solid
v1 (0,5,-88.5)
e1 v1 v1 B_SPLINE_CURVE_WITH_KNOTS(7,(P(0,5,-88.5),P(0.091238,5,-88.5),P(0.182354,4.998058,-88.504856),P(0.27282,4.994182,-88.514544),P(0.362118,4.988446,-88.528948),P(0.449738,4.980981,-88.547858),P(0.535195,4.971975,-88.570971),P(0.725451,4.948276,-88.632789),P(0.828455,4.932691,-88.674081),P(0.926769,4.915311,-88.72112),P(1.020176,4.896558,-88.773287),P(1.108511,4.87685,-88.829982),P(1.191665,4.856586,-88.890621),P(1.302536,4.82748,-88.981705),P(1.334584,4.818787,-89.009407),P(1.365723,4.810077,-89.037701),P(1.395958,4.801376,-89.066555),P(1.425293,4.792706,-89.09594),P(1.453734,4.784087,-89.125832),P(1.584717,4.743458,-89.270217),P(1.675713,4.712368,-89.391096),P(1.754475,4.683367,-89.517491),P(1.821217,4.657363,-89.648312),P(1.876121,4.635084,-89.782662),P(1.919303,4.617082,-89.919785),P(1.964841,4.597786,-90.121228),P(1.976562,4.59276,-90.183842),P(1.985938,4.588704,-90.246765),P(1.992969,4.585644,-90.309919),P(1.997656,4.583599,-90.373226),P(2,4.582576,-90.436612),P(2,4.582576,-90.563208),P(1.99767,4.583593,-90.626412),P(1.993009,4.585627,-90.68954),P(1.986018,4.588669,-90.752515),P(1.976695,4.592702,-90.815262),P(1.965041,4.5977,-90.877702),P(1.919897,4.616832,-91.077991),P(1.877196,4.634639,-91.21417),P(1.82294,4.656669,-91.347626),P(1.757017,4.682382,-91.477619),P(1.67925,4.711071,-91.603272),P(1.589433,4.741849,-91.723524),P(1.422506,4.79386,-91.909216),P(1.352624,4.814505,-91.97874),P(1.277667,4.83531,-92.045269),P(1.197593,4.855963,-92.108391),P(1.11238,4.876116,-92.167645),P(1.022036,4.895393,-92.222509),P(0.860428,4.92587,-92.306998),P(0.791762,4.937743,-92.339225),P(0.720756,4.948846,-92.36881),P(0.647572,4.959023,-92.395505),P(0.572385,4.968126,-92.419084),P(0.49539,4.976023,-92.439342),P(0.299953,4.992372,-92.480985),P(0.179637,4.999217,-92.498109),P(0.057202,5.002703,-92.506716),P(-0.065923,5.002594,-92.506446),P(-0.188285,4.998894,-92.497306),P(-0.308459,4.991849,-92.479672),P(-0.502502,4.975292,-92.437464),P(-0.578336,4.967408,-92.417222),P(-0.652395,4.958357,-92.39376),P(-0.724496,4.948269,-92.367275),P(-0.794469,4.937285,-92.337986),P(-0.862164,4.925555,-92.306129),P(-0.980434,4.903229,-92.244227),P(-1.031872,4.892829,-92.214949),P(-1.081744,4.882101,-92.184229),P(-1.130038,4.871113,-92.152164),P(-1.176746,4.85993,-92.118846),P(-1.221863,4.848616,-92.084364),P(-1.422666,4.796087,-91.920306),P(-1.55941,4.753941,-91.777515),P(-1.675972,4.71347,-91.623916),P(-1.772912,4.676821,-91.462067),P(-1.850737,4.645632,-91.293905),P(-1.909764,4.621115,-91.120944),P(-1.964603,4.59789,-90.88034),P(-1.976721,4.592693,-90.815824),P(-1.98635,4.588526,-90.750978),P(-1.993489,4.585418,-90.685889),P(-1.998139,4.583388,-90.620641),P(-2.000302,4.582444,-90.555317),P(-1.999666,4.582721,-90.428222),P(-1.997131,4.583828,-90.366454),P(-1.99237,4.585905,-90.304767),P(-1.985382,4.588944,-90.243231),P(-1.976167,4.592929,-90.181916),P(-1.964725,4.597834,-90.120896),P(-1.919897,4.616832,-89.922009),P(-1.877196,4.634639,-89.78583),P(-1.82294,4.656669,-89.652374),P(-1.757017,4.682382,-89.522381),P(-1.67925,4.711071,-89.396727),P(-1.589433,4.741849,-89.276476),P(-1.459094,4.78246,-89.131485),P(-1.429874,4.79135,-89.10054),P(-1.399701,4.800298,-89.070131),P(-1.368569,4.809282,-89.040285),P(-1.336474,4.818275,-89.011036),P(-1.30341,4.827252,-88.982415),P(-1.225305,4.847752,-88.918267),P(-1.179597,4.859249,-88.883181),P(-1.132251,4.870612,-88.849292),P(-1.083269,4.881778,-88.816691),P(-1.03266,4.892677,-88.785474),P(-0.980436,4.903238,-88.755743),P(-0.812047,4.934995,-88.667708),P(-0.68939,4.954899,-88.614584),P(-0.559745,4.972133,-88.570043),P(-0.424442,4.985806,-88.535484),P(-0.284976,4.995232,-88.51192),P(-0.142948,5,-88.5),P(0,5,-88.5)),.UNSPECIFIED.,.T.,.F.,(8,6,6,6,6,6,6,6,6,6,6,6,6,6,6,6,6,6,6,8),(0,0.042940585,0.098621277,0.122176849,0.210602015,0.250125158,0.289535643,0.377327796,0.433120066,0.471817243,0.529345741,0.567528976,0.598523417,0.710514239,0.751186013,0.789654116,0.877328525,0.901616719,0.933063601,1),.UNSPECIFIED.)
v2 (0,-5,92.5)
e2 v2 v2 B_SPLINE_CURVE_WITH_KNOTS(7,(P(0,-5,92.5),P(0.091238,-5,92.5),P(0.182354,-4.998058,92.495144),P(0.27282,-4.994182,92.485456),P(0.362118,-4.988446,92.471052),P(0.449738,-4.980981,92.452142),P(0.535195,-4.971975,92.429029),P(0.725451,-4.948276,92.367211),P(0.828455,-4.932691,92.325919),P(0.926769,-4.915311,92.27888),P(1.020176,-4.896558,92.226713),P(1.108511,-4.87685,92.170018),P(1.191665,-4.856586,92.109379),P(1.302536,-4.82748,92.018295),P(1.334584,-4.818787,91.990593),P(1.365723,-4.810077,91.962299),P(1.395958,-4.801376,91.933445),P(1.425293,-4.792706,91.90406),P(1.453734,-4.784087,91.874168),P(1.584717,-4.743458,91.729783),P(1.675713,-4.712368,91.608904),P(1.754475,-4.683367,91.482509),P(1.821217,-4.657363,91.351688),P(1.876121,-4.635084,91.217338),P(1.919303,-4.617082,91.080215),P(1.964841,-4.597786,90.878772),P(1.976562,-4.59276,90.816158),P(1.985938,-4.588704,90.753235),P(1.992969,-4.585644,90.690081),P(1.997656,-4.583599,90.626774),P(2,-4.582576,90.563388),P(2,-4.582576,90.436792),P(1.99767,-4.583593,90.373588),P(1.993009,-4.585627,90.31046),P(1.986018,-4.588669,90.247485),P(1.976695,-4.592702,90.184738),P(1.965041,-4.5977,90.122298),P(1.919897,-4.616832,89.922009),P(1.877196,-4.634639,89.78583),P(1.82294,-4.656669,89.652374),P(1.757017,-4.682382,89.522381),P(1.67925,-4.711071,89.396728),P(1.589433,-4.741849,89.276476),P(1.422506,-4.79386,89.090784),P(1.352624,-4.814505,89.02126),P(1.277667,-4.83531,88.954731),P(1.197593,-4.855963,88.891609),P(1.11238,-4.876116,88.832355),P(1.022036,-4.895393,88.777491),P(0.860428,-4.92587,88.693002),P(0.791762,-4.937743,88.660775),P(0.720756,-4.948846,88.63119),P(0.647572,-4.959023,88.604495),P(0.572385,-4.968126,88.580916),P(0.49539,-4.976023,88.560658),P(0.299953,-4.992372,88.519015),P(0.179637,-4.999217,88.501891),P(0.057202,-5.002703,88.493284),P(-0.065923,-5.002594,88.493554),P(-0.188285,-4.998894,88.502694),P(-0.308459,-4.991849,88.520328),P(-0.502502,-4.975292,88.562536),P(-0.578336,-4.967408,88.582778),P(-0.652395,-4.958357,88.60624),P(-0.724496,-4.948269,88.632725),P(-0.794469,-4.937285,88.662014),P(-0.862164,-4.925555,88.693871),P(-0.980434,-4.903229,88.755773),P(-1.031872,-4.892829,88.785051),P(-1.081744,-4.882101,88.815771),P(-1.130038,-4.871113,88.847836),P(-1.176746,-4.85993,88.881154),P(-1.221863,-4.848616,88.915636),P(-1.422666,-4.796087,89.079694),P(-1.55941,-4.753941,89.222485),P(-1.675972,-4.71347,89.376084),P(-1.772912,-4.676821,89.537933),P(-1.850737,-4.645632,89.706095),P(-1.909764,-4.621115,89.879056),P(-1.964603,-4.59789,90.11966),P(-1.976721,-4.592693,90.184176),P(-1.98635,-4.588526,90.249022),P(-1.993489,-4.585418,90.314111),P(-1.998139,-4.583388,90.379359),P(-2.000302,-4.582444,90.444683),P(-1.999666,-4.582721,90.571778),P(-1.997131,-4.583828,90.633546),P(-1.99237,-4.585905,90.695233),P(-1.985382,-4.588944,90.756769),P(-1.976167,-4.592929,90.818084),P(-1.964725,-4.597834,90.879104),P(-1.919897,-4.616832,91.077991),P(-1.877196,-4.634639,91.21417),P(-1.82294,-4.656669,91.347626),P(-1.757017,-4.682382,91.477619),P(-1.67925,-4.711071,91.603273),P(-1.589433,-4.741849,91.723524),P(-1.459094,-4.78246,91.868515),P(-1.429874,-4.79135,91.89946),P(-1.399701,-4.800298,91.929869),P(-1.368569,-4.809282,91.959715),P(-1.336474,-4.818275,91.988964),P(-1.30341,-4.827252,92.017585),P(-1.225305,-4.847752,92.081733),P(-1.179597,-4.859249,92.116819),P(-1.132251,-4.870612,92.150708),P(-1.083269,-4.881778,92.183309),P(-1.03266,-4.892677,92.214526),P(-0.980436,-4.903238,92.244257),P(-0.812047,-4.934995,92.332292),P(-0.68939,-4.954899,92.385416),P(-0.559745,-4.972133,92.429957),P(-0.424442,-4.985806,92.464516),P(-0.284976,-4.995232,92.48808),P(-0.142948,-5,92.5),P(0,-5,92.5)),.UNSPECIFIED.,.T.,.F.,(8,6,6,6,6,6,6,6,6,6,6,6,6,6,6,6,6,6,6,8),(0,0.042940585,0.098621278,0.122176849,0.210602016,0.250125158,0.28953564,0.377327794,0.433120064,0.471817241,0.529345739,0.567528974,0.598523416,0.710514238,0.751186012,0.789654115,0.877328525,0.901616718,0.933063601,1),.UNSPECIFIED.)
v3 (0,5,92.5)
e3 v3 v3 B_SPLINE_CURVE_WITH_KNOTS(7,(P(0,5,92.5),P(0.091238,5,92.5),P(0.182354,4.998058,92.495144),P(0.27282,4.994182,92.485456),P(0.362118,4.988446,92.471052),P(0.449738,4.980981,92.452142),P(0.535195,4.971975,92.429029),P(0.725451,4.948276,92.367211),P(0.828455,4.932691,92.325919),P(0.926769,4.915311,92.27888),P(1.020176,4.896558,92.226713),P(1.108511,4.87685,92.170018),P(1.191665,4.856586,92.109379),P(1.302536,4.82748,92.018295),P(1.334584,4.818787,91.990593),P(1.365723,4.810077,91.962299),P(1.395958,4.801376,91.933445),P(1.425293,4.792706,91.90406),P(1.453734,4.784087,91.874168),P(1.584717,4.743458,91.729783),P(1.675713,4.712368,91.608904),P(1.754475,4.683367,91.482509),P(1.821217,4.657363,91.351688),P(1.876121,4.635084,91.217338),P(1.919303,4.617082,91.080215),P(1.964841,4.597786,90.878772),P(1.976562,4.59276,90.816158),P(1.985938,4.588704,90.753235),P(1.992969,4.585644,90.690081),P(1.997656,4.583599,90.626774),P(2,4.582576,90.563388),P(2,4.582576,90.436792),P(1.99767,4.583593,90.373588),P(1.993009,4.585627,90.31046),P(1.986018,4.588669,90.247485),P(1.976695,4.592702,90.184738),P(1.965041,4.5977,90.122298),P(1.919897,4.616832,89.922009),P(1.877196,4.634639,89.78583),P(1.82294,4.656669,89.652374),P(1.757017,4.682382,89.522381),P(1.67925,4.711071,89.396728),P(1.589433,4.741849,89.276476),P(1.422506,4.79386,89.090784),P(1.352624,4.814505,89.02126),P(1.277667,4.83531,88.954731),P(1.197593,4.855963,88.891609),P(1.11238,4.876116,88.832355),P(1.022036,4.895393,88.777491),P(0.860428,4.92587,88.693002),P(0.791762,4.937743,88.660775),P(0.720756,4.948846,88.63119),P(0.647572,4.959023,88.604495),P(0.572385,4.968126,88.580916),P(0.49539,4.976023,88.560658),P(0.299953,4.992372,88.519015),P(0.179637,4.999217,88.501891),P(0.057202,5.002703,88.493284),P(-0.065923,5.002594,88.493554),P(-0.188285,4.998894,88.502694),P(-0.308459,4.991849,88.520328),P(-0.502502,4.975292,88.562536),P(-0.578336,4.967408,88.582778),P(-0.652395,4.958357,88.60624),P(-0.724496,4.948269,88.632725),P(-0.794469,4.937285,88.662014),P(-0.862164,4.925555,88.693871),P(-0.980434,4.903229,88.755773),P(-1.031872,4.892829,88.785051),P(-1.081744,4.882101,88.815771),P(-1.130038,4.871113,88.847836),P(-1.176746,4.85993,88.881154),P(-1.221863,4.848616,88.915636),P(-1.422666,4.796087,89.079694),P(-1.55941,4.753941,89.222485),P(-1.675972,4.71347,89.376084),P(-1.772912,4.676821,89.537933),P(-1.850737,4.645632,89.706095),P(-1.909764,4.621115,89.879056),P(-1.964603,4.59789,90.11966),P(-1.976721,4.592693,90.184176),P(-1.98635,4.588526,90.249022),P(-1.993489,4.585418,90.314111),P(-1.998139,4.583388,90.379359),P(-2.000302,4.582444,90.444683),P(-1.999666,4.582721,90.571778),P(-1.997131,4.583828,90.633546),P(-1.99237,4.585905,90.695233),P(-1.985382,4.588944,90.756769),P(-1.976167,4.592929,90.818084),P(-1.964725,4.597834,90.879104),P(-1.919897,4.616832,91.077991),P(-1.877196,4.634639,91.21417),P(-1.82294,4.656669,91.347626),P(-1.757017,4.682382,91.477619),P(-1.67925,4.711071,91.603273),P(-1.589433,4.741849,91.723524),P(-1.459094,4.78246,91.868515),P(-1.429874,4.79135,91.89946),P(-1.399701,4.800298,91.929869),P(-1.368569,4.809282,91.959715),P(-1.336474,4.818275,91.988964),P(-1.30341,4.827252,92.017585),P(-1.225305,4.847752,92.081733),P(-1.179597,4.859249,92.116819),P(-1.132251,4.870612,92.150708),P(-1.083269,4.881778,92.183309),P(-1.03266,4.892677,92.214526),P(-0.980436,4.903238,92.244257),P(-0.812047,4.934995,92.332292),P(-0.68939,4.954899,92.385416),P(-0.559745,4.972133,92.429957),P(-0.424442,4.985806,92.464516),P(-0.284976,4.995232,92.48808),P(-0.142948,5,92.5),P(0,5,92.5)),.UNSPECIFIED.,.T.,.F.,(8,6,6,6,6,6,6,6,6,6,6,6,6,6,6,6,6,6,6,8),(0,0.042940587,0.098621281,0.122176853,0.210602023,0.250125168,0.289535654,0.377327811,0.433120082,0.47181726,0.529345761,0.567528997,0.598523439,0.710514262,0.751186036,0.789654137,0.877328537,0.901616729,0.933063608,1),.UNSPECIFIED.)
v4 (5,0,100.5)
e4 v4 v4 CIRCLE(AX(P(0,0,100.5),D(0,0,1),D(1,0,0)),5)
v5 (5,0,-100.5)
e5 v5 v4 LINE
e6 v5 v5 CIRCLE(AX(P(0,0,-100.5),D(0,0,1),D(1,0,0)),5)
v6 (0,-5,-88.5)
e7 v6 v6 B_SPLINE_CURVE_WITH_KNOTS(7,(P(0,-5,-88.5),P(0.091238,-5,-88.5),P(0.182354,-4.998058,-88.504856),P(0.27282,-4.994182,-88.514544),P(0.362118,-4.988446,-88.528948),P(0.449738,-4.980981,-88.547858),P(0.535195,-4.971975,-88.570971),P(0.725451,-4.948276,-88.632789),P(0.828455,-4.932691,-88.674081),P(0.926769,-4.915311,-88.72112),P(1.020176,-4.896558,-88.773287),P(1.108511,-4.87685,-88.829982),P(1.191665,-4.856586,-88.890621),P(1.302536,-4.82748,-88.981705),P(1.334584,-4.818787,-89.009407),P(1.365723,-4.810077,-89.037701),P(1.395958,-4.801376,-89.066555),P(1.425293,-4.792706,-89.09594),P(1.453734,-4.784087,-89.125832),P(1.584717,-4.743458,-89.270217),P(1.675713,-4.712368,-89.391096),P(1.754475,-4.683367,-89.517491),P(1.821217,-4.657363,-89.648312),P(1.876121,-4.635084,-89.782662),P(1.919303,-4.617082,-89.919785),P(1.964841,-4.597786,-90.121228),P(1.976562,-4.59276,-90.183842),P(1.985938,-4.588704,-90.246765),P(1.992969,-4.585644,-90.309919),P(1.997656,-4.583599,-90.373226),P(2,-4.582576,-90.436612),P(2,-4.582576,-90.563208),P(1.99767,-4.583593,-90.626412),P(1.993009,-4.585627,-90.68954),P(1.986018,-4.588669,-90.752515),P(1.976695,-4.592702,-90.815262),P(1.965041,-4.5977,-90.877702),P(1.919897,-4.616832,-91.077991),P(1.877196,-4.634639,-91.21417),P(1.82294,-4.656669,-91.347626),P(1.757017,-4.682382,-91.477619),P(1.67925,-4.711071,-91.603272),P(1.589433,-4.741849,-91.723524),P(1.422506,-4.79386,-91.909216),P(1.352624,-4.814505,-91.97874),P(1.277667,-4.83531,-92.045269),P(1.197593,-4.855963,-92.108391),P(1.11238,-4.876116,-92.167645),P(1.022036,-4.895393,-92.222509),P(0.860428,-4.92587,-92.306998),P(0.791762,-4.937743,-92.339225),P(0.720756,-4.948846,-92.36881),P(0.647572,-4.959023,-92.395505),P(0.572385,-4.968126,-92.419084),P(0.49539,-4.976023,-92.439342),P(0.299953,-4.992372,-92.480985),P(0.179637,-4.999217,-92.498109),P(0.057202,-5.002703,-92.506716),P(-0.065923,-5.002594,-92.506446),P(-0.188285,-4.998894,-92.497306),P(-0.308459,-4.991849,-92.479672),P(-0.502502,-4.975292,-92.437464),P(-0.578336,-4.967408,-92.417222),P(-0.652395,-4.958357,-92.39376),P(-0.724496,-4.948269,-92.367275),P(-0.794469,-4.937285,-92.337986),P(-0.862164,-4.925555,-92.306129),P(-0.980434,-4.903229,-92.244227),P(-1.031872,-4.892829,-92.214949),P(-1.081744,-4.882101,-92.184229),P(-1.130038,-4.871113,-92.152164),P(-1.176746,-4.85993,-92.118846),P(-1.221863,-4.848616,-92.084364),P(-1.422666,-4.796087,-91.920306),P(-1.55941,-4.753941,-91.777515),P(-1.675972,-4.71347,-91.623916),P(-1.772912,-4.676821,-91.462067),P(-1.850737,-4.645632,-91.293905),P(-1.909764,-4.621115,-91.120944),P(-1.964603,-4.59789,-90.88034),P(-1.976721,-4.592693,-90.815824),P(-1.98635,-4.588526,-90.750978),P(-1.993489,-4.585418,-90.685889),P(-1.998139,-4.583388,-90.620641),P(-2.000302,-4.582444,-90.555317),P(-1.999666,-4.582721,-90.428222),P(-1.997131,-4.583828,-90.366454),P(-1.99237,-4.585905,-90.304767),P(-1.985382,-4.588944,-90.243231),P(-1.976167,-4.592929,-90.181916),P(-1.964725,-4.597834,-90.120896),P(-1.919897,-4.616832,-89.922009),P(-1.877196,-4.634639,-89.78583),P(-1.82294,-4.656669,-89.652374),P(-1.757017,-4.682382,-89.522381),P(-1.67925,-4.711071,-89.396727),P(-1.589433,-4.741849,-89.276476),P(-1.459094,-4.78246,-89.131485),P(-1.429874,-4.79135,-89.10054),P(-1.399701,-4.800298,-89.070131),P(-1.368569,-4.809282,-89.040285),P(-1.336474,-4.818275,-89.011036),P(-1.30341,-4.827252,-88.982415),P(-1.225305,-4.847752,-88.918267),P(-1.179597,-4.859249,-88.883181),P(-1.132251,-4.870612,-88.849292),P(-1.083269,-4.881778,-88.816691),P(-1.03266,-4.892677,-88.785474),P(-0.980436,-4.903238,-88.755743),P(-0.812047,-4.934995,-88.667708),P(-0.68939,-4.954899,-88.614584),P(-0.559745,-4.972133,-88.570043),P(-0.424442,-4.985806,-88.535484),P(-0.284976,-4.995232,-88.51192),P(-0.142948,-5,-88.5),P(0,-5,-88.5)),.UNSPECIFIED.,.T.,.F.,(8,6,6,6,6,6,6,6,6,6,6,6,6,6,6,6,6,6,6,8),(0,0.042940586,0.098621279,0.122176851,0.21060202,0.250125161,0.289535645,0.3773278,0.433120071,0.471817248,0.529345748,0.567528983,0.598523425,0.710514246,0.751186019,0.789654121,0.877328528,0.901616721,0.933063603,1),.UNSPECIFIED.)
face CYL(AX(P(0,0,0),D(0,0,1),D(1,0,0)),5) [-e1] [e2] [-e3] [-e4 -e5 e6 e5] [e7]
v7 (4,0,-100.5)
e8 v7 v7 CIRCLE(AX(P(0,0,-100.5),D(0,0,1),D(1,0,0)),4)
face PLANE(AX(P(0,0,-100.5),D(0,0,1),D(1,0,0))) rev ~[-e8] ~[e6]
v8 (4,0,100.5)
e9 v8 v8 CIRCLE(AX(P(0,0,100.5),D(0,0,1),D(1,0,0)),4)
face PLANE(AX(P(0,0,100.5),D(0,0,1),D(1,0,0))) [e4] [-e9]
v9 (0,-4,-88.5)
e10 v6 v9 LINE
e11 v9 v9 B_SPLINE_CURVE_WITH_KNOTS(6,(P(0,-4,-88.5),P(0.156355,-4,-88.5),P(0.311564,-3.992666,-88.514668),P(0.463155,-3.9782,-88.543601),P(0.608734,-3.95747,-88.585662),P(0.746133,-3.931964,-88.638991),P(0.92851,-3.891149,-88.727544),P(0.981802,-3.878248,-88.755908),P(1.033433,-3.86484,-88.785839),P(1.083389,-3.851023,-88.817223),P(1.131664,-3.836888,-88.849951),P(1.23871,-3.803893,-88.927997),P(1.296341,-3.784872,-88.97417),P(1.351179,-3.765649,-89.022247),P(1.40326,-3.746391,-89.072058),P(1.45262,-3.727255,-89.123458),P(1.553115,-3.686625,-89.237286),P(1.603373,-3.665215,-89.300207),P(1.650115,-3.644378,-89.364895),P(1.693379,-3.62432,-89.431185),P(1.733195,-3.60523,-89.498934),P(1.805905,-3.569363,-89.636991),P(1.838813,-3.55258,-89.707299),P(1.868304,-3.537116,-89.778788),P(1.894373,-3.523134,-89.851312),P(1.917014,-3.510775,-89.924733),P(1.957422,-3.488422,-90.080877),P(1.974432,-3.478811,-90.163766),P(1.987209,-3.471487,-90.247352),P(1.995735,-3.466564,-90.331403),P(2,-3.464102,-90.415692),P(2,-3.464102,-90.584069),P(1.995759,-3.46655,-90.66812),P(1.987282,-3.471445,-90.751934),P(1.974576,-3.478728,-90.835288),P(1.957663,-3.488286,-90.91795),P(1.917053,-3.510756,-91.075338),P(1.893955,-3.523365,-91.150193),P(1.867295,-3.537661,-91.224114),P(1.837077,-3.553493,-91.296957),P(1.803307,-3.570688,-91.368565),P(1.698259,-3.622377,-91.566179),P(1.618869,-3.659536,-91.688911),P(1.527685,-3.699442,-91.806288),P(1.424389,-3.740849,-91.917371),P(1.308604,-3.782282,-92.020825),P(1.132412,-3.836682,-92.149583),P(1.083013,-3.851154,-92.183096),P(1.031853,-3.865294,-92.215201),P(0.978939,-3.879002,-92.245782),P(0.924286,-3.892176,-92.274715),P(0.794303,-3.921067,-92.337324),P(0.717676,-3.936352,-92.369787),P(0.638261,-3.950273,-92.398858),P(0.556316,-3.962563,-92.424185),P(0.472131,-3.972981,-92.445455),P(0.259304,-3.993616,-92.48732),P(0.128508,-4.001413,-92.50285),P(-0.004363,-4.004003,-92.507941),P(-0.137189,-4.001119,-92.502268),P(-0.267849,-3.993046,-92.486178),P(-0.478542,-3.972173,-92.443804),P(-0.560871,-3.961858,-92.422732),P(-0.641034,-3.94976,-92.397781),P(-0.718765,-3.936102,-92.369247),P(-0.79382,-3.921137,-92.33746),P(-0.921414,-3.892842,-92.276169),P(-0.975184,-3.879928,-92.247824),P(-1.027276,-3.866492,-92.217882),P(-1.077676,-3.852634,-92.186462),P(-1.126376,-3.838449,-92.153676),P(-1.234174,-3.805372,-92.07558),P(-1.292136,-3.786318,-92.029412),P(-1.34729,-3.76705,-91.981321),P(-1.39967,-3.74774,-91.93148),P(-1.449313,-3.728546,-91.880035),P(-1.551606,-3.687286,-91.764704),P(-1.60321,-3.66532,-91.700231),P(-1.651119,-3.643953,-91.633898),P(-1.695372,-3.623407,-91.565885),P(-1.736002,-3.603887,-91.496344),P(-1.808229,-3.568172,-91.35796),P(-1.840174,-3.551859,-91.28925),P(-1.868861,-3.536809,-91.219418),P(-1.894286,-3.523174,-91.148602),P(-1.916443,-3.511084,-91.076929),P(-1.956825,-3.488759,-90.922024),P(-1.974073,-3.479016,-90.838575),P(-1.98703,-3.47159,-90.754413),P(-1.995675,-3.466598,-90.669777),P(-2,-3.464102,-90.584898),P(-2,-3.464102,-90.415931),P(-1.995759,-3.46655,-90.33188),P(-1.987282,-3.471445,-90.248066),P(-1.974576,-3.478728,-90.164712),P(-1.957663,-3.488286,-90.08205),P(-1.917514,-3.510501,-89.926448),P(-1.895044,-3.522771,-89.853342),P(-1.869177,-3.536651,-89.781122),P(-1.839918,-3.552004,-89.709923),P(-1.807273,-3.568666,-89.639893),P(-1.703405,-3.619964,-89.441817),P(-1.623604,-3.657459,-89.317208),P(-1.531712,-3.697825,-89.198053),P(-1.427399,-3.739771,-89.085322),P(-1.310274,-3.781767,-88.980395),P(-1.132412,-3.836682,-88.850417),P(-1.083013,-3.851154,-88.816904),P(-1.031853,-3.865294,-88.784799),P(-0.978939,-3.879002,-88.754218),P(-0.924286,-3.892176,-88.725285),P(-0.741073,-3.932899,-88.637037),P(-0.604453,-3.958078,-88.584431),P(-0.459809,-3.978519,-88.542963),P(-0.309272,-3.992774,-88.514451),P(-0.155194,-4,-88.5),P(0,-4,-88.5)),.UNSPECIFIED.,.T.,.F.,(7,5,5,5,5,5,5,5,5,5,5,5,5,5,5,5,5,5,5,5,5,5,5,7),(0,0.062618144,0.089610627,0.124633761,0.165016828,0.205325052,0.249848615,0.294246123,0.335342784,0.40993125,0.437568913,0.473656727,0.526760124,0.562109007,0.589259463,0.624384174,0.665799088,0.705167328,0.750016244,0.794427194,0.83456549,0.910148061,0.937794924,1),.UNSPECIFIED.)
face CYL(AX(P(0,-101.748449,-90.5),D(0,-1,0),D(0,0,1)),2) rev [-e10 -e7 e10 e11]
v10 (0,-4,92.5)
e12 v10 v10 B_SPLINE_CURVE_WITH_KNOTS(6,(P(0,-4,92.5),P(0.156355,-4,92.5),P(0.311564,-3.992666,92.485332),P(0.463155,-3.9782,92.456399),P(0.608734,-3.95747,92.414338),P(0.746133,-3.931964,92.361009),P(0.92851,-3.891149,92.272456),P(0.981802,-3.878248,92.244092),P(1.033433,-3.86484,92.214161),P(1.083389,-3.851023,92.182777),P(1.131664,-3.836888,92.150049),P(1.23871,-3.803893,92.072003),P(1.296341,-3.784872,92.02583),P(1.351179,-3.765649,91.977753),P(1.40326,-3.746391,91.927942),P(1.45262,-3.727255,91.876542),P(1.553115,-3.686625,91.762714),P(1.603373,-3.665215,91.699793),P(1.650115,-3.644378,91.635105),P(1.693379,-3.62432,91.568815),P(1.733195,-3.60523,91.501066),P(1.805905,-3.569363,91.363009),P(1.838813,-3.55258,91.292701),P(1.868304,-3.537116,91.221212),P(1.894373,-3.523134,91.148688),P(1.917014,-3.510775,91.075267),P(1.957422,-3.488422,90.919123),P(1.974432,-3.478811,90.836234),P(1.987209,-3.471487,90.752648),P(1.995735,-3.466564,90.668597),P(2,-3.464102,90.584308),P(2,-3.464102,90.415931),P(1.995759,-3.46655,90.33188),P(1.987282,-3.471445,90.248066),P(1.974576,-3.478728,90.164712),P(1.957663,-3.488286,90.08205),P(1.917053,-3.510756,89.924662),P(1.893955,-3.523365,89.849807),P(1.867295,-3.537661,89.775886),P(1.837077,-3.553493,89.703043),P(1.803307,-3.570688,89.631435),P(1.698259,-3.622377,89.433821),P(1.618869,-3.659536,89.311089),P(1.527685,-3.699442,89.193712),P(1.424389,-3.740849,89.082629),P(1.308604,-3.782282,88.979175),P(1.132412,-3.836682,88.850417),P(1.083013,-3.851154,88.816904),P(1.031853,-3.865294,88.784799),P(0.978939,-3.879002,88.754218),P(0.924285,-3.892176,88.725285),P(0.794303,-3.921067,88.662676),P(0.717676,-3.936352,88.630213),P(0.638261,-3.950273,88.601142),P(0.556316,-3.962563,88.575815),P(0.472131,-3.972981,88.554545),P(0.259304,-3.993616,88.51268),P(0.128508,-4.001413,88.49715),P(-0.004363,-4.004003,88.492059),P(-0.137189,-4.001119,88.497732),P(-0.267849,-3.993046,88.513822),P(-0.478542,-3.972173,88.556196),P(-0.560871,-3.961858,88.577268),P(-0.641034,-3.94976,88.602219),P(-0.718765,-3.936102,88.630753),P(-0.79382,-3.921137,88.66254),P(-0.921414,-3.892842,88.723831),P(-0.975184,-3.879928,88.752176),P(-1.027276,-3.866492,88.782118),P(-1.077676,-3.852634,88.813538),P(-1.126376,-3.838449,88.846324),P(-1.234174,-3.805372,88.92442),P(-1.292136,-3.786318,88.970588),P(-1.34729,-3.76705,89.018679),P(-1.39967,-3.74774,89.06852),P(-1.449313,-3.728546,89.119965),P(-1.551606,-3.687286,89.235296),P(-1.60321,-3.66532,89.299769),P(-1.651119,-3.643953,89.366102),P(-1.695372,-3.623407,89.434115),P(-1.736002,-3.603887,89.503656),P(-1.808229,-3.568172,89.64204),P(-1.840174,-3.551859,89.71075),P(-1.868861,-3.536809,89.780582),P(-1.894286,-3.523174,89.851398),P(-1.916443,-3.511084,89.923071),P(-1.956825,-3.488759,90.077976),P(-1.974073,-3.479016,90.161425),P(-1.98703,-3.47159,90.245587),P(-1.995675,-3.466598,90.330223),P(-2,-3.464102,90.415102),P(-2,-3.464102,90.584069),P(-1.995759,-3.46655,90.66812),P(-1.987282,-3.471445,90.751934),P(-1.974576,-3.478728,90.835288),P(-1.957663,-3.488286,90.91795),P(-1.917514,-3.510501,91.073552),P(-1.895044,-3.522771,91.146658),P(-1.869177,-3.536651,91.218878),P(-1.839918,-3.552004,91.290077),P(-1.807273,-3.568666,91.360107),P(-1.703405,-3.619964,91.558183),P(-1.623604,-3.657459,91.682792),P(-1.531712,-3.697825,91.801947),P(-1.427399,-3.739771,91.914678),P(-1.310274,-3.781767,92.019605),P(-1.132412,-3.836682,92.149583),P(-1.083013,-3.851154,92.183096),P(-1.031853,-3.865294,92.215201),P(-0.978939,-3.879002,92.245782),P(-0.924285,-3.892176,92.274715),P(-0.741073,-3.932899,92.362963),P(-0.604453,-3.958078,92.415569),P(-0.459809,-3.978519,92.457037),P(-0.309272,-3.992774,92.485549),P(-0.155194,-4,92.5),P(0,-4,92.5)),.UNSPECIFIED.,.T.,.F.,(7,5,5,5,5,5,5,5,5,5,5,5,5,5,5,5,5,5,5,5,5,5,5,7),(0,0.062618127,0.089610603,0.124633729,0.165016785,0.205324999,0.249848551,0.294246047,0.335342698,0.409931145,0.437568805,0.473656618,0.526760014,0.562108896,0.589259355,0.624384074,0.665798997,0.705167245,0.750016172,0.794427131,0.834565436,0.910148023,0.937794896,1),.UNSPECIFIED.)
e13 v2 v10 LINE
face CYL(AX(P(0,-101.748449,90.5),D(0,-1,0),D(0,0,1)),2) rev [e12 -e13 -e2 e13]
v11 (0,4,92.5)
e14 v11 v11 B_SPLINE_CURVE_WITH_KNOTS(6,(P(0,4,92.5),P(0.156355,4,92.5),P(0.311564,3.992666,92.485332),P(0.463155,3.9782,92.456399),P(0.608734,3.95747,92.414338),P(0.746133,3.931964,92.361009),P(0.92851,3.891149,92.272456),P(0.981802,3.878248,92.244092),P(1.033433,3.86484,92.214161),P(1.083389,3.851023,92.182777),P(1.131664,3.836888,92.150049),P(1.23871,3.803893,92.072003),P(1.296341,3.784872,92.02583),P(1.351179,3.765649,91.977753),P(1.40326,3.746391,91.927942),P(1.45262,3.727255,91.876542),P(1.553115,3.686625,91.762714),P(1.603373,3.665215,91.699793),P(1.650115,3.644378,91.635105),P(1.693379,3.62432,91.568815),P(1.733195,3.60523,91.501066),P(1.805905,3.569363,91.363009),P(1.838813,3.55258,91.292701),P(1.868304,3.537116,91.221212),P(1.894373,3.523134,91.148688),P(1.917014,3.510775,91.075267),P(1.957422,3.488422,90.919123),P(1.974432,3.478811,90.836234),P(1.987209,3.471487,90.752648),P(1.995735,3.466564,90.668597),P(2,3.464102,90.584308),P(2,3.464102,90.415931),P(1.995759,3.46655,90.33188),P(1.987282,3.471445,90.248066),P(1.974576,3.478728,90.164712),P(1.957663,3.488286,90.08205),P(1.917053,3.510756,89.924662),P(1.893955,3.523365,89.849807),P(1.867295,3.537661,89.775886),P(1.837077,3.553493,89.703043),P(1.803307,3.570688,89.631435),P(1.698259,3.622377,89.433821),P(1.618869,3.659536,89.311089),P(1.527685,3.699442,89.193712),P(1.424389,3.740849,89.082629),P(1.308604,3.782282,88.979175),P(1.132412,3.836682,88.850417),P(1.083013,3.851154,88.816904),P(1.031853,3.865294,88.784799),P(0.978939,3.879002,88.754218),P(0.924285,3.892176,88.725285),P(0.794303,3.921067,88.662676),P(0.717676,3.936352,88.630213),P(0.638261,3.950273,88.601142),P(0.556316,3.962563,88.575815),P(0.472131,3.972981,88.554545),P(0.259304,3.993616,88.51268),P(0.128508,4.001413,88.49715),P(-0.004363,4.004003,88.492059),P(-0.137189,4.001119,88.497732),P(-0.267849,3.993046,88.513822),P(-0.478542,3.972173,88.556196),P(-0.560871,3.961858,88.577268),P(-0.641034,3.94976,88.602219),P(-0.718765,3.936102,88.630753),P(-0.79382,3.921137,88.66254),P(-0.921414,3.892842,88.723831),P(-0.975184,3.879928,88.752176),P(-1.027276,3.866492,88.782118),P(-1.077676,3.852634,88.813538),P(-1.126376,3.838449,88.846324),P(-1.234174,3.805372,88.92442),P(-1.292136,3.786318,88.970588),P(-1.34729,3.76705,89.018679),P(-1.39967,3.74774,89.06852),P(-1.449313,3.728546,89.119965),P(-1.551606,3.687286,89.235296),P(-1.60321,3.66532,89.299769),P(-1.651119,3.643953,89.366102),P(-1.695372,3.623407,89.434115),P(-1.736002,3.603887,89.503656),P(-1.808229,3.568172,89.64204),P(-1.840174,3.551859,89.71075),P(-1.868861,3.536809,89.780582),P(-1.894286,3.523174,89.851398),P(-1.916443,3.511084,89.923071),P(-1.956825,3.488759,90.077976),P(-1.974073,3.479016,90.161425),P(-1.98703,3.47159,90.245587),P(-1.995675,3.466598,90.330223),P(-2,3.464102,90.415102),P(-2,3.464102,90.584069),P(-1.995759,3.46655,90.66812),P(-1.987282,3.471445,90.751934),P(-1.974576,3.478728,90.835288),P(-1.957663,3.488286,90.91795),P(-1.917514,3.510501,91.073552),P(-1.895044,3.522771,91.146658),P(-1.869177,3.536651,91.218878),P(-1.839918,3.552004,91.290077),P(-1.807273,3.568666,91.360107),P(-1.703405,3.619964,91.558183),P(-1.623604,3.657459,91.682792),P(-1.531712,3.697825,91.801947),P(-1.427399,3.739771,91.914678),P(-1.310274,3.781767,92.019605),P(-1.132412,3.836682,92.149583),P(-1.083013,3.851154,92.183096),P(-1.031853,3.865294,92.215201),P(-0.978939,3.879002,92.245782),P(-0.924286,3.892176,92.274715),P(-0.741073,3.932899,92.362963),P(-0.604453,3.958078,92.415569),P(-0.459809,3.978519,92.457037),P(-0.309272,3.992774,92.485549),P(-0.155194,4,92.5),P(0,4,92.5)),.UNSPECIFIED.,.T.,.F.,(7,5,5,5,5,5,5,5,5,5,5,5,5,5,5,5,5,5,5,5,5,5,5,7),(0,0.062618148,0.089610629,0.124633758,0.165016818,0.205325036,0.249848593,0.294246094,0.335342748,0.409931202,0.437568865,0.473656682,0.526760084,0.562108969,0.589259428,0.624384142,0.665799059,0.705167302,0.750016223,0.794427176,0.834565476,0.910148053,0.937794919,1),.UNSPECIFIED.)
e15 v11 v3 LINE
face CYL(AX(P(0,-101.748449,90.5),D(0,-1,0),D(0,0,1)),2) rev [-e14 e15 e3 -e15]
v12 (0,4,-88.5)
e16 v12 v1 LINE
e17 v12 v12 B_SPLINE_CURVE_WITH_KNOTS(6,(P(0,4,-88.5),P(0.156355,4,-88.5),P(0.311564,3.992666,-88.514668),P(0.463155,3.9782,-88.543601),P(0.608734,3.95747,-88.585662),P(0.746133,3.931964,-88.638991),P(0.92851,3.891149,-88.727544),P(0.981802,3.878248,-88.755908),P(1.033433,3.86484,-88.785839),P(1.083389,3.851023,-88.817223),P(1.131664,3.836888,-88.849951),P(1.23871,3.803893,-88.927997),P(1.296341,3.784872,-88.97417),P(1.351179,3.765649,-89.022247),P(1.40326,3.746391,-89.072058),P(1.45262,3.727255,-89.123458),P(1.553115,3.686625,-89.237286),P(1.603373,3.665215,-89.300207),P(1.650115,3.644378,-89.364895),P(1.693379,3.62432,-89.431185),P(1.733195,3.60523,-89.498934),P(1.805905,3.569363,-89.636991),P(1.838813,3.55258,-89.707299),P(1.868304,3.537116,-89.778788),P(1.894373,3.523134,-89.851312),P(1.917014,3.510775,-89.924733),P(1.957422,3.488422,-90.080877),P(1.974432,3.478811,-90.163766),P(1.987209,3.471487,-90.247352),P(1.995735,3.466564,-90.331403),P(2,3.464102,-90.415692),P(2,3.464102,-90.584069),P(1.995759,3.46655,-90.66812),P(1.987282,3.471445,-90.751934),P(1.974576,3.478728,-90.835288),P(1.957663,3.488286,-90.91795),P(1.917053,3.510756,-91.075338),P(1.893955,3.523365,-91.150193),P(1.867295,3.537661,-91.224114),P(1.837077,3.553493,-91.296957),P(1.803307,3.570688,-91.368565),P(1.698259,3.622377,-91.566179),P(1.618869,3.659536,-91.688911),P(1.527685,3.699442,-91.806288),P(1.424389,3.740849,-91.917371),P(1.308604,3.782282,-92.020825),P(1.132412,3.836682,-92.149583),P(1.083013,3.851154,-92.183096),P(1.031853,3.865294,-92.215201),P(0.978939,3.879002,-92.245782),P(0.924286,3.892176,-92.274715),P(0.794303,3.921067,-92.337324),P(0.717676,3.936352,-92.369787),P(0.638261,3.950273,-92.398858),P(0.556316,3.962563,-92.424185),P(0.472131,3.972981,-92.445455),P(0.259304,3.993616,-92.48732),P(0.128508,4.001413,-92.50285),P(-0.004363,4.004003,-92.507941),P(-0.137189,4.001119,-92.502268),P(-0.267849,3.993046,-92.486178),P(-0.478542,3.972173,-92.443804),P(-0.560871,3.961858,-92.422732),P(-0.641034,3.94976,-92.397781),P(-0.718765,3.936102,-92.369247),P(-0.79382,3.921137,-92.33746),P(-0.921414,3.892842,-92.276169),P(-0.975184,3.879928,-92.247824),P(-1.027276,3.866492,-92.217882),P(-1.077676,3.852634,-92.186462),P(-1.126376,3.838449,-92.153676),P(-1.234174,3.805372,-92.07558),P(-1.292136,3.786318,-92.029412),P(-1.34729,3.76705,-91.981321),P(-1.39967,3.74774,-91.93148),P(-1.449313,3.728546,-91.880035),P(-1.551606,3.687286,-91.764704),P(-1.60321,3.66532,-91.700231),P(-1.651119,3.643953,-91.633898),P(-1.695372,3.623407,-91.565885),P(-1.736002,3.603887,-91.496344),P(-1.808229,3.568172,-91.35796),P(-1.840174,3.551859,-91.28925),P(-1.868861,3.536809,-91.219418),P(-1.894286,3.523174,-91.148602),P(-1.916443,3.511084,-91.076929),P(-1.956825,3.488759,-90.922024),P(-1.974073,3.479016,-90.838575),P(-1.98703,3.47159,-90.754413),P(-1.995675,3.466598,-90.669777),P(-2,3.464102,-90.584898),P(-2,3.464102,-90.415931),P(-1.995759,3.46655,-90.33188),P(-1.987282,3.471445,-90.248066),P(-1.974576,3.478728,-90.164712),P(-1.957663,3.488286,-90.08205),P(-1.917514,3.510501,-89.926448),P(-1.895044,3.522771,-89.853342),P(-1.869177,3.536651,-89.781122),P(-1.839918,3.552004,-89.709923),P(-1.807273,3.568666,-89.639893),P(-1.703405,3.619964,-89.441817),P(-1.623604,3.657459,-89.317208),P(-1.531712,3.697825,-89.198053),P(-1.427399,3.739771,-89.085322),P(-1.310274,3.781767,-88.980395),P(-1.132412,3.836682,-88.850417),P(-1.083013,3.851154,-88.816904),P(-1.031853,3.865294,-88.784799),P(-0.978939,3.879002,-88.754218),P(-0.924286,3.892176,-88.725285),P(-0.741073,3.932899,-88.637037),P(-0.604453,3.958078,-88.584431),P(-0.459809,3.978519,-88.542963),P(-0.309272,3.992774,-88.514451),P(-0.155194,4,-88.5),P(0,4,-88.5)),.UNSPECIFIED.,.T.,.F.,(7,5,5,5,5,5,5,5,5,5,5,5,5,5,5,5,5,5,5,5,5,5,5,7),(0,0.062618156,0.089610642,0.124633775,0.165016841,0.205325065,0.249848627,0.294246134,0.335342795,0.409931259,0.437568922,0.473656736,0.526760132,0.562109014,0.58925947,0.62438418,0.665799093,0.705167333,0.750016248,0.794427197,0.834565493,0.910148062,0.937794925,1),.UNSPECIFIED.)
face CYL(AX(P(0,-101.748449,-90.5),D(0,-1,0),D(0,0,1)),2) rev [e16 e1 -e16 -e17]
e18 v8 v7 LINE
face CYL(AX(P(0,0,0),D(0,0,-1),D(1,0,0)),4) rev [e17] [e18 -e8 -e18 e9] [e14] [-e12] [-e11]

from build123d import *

# Parameters (mm, degrees)
SKETCH_1_R               = 5
SKETCH_1_R_2             = 4
EXTRUDE_1_DEPTH          = 100.5
CUT_EXTRUDE_1_DEPTH      = 101.74844912
CUT_EXTRUDE_1_DEPTH_BACK = 101.74844912
SKETCH_2_R               = 2


with BuildPart() as part:
    # 草图1 → 凸台-拉伸1 (new, symmetric)
    with BuildSketch(Plane.XY):
        Circle(SKETCH_1_R)
        Circle(SKETCH_1_R_2, mode=Mode.SUBTRACT)
    extrude(amount=EXTRUDE_1_DEPTH, both=True)

    # 草图2 → 切除-拉伸1 (cut, two sides: drawn at the far end of the back side and taken through both)
    with BuildSketch(Plane(origin=(0, 0, 0), x_dir=(1, 0, 0), z_dir=(0, 1, 0)).offset(-CUT_EXTRUDE_1_DEPTH_BACK)):
        with Locations(Location((0, -90.5, 0), (0, 0, 270))):
            Circle(SKETCH_2_R)
        with Locations(Location((0, 90.5, 0), (0, 0, 270))):
            Circle(SKETCH_2_R)
    extrude(amount=CUT_EXTRUDE_1_DEPTH + CUT_EXTRUDE_1_DEPTH_BACK, mode=Mode.SUBTRACT)


solid = part.part
